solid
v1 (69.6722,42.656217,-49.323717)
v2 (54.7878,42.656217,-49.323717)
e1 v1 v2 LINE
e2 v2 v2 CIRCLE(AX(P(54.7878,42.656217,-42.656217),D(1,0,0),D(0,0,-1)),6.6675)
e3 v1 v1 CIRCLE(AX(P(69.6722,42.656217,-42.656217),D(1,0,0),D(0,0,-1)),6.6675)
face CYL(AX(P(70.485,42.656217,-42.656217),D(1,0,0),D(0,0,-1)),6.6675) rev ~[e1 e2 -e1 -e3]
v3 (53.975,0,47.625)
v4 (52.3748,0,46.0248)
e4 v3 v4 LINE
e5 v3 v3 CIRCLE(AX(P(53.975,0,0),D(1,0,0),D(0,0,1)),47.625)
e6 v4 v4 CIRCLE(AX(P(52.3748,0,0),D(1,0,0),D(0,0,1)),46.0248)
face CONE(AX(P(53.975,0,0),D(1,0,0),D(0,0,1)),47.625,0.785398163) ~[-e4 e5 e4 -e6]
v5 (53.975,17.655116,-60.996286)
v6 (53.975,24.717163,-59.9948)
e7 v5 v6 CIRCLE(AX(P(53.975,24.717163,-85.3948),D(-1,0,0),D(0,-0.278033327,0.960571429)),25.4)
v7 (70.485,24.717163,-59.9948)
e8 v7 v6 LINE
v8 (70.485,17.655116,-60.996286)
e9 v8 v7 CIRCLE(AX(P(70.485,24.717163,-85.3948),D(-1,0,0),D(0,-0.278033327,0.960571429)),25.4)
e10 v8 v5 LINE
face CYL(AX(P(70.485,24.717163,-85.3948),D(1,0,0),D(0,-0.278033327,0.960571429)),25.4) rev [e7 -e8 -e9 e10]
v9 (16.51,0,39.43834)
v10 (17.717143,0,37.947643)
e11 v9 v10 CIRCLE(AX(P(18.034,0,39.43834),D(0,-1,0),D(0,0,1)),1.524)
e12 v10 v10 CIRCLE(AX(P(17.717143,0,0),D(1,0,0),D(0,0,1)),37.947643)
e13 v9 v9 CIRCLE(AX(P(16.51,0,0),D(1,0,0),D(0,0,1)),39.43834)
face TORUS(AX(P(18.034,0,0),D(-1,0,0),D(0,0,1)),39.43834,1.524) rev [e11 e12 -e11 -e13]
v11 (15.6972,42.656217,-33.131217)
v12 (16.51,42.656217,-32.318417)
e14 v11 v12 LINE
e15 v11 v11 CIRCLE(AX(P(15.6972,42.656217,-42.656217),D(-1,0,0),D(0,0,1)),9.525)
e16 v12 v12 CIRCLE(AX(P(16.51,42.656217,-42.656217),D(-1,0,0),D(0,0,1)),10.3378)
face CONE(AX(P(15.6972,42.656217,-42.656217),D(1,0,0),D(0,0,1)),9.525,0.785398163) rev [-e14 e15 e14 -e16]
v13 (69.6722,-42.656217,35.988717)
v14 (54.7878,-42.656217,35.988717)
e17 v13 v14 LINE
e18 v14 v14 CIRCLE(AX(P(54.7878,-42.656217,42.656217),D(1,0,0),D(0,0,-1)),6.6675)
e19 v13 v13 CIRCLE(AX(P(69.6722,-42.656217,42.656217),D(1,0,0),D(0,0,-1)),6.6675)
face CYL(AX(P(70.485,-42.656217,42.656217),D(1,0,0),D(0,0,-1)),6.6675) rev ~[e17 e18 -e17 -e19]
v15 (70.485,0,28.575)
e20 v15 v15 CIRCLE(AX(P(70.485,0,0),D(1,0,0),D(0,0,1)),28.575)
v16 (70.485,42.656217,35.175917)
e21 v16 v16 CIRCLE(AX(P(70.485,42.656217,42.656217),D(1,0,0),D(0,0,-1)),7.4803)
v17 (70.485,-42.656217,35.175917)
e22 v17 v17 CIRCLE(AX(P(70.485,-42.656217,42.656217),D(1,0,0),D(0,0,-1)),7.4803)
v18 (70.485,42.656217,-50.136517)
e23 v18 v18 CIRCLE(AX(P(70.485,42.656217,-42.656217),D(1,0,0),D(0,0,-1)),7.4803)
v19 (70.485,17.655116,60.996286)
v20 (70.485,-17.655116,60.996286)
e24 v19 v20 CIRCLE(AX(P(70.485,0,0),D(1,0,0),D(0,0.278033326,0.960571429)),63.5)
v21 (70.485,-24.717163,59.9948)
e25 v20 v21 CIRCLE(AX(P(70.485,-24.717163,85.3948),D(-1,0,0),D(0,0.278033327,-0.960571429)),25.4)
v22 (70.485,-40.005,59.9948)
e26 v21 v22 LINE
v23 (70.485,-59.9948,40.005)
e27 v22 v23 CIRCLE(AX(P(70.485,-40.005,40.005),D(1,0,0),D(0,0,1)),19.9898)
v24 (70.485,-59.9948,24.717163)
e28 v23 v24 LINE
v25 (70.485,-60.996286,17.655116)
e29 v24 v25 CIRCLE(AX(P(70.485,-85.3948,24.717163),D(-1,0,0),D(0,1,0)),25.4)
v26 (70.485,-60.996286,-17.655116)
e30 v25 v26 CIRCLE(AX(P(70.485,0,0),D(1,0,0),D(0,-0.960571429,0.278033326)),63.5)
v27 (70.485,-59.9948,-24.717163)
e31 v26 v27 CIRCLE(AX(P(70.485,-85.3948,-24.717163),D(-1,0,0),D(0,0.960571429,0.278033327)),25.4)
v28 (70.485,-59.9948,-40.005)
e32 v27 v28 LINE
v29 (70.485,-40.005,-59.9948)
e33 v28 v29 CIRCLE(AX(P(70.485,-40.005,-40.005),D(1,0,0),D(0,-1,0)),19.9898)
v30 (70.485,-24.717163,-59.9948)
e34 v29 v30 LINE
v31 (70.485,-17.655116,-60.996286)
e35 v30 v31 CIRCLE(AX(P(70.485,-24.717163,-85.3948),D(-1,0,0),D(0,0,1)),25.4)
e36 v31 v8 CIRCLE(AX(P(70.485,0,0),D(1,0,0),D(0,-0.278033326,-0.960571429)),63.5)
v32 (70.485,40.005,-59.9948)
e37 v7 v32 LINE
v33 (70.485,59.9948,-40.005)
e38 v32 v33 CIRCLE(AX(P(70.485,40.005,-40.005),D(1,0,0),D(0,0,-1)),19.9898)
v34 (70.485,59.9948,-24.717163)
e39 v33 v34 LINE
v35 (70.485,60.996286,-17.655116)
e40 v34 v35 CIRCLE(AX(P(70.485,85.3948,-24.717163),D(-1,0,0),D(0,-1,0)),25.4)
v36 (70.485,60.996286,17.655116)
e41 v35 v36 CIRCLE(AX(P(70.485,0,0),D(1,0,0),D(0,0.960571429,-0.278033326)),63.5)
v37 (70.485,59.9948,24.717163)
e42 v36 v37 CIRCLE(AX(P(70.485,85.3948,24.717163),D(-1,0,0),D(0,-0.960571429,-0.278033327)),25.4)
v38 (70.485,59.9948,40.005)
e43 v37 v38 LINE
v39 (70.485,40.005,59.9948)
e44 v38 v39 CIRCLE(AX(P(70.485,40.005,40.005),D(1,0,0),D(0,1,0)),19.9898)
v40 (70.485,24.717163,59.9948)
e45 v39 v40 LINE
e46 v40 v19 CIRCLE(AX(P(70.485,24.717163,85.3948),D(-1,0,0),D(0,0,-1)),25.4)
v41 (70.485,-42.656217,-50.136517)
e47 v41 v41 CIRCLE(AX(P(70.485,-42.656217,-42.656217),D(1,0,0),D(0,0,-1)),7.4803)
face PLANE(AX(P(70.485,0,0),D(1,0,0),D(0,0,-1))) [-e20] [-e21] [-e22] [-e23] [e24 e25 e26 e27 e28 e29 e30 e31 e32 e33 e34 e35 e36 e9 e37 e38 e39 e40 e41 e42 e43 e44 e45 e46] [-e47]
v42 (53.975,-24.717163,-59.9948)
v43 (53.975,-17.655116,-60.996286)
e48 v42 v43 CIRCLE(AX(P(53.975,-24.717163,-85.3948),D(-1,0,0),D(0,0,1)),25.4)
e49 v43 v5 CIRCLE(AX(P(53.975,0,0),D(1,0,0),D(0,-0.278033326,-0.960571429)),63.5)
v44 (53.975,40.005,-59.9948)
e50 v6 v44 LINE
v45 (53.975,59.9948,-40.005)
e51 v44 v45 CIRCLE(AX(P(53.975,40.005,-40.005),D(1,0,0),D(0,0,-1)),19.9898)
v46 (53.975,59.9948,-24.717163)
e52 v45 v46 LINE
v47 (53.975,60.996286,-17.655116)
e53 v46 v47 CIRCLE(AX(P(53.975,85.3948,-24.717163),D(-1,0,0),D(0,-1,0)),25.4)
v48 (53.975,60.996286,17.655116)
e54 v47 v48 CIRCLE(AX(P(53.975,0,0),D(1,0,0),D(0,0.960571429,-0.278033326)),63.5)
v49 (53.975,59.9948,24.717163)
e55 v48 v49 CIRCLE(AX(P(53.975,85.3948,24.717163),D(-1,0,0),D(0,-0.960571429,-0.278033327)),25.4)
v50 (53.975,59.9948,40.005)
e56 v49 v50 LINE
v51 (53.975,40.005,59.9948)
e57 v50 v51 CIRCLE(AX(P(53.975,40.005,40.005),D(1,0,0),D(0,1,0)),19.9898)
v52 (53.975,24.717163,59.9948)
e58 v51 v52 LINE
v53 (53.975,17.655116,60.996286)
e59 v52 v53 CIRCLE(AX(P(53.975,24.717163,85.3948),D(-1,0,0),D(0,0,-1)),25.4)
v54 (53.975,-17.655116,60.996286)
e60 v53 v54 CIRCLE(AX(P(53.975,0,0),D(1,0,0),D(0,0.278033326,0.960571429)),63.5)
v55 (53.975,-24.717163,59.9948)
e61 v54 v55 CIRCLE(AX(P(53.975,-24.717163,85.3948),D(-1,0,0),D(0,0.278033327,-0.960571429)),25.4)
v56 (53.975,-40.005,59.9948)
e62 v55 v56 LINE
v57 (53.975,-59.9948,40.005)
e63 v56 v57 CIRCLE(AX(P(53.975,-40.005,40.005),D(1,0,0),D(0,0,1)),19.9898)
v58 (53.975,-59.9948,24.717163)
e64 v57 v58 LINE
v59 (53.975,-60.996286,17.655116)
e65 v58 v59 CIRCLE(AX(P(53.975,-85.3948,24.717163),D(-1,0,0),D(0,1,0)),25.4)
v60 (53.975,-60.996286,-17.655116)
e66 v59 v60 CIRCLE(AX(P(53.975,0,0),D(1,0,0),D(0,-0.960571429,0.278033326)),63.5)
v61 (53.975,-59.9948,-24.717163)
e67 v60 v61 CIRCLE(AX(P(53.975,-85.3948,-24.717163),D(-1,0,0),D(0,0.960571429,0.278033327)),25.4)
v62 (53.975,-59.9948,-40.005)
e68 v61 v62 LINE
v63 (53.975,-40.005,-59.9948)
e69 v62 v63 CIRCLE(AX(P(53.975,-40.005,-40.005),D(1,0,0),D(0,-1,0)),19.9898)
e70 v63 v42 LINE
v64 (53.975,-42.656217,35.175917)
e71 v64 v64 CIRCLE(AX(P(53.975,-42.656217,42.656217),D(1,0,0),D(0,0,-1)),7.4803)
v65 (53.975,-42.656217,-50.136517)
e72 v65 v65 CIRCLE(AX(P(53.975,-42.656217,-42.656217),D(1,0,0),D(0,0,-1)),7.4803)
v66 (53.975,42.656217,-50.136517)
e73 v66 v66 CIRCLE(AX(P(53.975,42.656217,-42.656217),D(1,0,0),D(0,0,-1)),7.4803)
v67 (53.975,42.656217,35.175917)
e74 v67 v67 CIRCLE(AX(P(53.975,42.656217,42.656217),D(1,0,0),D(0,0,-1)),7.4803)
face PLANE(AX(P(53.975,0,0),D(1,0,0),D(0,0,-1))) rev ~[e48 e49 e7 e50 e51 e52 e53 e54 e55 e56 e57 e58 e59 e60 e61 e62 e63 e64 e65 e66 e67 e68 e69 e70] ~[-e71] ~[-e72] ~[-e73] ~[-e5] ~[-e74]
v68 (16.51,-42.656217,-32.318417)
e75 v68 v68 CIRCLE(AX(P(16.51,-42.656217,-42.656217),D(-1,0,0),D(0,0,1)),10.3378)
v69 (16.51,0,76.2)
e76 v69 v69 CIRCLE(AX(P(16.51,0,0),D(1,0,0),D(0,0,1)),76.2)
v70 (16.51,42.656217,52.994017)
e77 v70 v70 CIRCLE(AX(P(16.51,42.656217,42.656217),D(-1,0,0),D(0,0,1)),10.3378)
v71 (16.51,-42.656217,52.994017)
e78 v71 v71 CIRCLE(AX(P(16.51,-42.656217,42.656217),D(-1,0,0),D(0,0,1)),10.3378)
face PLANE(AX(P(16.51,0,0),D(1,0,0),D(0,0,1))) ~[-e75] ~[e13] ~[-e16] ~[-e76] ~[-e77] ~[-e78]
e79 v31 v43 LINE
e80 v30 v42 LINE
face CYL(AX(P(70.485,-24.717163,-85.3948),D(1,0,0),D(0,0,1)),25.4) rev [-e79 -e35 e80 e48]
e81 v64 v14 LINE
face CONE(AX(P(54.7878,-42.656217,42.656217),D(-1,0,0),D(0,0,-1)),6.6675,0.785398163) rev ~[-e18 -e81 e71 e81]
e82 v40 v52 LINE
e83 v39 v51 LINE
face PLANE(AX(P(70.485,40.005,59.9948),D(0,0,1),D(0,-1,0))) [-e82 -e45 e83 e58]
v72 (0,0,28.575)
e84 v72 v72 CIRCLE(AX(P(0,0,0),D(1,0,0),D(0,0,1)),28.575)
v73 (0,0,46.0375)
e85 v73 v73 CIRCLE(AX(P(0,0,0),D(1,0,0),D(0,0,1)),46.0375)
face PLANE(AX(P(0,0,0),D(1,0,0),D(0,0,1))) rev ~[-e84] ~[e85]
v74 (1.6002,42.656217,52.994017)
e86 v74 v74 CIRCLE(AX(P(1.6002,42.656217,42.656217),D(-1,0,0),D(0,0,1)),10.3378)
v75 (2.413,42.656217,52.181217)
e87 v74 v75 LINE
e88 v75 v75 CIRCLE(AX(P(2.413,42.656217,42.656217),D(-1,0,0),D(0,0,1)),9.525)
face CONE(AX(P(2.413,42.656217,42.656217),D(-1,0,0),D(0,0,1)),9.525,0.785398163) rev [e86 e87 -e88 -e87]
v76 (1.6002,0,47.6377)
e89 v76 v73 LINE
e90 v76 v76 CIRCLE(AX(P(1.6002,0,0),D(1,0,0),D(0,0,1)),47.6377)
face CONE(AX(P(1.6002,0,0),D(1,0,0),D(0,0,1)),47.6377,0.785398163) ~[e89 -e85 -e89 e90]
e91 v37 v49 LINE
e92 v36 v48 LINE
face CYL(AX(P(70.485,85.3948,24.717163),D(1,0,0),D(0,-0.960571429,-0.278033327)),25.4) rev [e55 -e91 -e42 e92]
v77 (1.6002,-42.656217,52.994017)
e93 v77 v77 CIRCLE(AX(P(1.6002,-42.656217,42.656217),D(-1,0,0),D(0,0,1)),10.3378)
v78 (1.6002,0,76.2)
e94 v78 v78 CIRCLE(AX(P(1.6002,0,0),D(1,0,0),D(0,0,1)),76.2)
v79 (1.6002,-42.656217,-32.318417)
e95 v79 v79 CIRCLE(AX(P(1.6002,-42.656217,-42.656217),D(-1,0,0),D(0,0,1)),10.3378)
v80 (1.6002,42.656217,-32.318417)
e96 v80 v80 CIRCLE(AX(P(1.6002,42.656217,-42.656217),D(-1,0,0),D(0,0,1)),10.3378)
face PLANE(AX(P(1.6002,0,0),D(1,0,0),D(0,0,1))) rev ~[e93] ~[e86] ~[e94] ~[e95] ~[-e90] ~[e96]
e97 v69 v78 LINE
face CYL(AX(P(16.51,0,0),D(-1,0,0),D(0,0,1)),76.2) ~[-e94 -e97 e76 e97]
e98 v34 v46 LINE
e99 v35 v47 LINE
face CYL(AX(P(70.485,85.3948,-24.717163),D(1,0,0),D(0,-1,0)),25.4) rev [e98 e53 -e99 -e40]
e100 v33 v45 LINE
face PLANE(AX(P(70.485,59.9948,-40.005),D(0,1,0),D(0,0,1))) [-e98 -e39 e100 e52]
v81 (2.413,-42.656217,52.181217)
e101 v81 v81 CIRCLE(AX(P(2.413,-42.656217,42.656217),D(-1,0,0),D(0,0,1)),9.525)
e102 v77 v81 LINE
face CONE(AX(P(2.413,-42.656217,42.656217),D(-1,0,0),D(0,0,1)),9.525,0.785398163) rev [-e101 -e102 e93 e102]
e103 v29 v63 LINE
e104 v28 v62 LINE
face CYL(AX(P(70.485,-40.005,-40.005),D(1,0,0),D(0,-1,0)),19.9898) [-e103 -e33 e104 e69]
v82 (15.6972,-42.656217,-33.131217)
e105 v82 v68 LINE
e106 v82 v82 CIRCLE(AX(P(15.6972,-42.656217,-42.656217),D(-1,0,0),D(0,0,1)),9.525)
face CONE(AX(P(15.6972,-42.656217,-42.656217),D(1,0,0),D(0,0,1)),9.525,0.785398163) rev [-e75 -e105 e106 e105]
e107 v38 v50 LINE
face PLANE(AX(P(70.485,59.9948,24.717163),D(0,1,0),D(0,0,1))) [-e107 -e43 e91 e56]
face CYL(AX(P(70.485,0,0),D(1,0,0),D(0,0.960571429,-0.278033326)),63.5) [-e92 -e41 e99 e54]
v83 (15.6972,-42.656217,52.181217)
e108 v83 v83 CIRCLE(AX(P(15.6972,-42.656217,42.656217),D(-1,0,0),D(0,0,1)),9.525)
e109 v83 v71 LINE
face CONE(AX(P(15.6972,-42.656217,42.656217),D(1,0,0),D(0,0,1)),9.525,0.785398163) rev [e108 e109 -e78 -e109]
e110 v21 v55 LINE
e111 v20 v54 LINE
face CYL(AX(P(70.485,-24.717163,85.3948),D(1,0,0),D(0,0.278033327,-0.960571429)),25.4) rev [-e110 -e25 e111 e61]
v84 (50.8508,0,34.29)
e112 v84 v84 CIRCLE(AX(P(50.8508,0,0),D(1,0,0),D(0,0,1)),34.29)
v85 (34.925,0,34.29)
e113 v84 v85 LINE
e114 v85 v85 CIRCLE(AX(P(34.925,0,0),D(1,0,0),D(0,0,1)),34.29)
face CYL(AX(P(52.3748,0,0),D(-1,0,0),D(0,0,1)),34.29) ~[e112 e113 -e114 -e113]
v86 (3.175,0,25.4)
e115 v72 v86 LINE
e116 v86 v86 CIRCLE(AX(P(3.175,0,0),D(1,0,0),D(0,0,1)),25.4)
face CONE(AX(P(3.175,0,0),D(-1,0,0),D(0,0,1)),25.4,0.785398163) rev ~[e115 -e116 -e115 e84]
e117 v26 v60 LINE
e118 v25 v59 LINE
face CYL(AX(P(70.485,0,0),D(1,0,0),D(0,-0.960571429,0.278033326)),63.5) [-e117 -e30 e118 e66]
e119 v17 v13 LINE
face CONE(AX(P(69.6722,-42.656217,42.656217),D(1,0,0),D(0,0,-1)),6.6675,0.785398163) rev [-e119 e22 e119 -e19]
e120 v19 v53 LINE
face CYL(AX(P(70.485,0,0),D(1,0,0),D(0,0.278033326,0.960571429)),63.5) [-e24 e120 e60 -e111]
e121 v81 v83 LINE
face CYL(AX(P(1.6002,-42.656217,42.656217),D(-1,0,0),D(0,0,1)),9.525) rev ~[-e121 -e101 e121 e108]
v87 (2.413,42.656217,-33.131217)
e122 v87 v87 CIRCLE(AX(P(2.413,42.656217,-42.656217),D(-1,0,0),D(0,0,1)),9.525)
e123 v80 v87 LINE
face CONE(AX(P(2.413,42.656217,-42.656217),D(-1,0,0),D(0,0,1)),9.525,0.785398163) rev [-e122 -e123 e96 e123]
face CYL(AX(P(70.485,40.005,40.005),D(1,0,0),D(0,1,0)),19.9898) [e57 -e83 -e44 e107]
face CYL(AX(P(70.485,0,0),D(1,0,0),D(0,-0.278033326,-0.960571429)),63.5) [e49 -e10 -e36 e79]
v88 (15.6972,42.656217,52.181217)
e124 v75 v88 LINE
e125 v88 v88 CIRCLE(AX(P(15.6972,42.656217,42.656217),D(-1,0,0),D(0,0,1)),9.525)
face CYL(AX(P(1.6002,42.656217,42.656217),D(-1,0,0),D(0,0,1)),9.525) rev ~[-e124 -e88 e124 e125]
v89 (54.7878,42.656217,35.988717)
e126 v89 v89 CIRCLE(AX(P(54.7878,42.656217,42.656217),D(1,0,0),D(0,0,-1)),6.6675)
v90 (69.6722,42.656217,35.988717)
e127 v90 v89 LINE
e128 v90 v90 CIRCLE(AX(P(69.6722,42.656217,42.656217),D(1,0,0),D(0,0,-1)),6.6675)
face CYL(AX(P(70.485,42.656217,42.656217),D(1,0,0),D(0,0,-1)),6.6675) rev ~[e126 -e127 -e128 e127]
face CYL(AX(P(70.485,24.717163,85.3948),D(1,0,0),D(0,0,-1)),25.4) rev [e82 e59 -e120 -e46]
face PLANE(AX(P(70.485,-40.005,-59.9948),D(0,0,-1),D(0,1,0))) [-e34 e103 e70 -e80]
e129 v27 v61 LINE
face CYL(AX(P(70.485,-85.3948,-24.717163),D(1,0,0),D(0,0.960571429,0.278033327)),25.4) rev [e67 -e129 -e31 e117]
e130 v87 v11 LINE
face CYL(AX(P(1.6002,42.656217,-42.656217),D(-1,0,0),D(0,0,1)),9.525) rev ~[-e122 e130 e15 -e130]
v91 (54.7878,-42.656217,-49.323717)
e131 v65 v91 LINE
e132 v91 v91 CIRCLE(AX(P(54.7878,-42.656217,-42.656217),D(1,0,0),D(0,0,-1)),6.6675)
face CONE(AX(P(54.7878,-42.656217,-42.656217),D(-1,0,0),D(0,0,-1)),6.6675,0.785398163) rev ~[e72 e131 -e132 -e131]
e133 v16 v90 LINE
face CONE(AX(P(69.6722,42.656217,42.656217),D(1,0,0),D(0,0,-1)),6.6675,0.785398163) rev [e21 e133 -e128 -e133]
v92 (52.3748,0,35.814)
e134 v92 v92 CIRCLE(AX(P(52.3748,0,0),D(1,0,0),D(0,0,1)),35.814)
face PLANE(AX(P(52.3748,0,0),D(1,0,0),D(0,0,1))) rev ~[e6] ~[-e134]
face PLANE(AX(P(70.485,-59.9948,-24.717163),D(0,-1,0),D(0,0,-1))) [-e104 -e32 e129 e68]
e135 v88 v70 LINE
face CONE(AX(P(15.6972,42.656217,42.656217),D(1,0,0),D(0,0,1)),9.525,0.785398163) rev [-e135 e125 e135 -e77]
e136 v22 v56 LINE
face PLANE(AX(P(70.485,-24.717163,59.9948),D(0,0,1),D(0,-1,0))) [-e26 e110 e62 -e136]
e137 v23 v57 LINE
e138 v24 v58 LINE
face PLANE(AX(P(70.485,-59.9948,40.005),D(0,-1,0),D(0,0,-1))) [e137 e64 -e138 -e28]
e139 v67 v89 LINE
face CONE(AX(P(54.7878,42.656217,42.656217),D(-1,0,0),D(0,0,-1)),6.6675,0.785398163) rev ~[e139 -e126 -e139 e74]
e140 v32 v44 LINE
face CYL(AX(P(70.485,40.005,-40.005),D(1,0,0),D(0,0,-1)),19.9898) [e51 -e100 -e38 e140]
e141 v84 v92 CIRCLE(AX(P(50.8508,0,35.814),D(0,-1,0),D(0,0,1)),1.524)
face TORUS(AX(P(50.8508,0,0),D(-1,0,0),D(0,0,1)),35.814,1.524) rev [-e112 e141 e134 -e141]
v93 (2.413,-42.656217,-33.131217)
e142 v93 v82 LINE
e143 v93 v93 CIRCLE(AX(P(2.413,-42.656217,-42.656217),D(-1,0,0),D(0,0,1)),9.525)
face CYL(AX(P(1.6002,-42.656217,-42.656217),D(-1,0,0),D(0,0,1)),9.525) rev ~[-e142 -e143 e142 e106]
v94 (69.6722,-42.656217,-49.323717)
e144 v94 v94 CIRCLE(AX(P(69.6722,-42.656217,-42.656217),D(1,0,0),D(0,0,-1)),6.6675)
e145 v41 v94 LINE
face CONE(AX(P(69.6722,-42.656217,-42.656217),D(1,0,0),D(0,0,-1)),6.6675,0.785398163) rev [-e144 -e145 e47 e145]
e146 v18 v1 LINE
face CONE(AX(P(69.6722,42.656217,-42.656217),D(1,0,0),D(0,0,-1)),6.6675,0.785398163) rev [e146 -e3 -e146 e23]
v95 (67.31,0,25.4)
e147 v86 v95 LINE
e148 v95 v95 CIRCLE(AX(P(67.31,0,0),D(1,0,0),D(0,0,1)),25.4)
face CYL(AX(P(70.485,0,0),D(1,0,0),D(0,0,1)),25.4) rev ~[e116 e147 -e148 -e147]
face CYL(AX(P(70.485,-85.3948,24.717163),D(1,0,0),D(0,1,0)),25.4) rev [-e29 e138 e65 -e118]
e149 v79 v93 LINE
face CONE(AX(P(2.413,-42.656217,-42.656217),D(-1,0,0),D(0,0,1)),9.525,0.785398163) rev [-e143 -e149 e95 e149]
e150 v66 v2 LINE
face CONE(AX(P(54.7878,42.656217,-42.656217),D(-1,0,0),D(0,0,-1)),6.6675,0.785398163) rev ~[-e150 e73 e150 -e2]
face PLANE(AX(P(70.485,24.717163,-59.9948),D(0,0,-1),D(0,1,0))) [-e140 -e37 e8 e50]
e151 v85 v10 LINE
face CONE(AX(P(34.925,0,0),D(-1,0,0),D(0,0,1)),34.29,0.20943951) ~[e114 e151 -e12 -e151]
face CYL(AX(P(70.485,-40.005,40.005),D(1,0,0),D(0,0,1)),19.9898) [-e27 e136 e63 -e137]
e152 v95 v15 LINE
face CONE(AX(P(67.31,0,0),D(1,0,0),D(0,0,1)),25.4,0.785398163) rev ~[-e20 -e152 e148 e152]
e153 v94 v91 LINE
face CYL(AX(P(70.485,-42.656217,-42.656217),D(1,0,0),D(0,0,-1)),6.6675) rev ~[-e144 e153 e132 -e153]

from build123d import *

# Parameters (mm, degrees)
BOSS_EXTRUDE1_START = 16.51
SKETCH2_R           = 6.6675
SKETCH2_R_2         = 47.625
SKETCH2_R_3         = 25.4
BOSS_EXTRUDE1_DEPTH = 16.51
CUT_EXTRUDE1_REACH  = 129.898
SKETCH3_R           = 9.525
CHAMFER1_SIZE       = 0.8128
CHAMFER2_SIZE       = 0.8128
CHAMFER3_SIZE       = 3.175
FILLET2_R           = 1.524


with BuildPart() as part:
    # Sketch1 → Revolve1 (revolve)
    with BuildSketch(Plane.XY, mode=Mode.PRIVATE) as revolve1_sk:
        Polygon((0, 25.4), (53.975, 25.4), (53.975, 47.625), (52.3748, 46.0248), (52.3748, 34.29), (34.925, 34.29), (16.51, 38.204229083), (16.51, 76.2), (1.6002, 76.2), (1.6002, 47.6377), (0, 46.0375), align=None)
    revolve(revolve1_sk.sketch.rotate(Axis((0, 0, 0), (1, 0, 0)), 90), axis=Axis((0, 0, 0), (1, 0, 0)))

    # Sketch2 → Boss-Extrude1 (add)
    # profile 1 of 2: a face of its own
    with BuildSketch(Plane(origin=(53.975, 0, 0), x_dir=(0, 0, -1), z_dir=(1, 0, 0)).offset(BOSS_EXTRUDE1_START)):
        with BuildLine():
            Line((-59.9948, 40.005), (-59.9948, 24.717162721))
            ThreePointArc((-59.9948, 24.717162721), (-60.246417717, 21.150810443), (-60.996285714, 17.655116229))
            ThreePointArc((-60.996285714, 17.655116229), (-63.5, 0), (-60.996285714, -17.655116229))
            ThreePointArc((-60.996285714, -17.655116229), (-60.246417717, -21.150810443), (-59.9948, -24.717162721))
            Line((-59.9948, -24.717162721), (-59.9948, -40.005))
            ThreePointArc((-59.9948, -40.005), (-54.139923135, -54.139923135), (-40.005, -59.9948))
            Line((-40.005, -59.9948), (-24.717162721, -59.9948))
            ThreePointArc((-24.717162721, -59.9948), (-21.150810443, -60.246417717), (-17.655116229, -60.996285714))
            ThreePointArc((-17.655116229, -60.996285714), (0, -63.5), (17.655116229, -60.996285714))
            ThreePointArc((17.655116229, -60.996285714), (21.150810443, -60.246417717), (24.717162721, -59.9948))
            Line((24.717162721, -59.9948), (40.005, -59.9948))
            ThreePointArc((40.005, -59.9948), (54.139923135, -54.139923135), (59.9948, -40.005))
            Line((59.9948, -40.005), (59.9948, -24.717162721))
            ThreePointArc((59.9948, -24.717162721), (60.246417717, -21.150810443), (60.996285714, -17.655116229))
            ThreePointArc((60.996285714, -17.655116229), (63.5, 0), (60.996285714, 17.655116229))
            ThreePointArc((60.996285714, 17.655116229), (60.246417717, 21.150810443), (59.9948, 24.717162721))
            Line((59.9948, 24.717162721), (59.9948, 40.005))
            ThreePointArc((59.9948, 40.005), (54.139923135, 54.139923135), (40.005, 59.9948))
            Line((40.005, 59.9948), (24.717162721, 59.9948))
            ThreePointArc((24.717162721, 59.9948), (21.150810443, 60.246417717), (17.655116229, 60.996285714))
            ThreePointArc((17.655116229, 60.996285714), (0, 63.5), (-17.655116229, 60.996285714))
            ThreePointArc((-17.655116229, 60.996285714), (-21.150810443, 60.246417717), (-24.717162721, 59.9948))
            Line((-24.717162721, 59.9948), (-40.005, 59.9948))
            ThreePointArc((-40.005, 59.9948), (-54.139923135, 54.139923135), (-59.9948, 40.005))
        make_face()
        with Locations((-42.656216575, -42.656216575)):
            Circle(SKETCH2_R, mode=Mode.SUBTRACT)
        with Locations((42.656216575, -42.656216575)):
            Circle(SKETCH2_R, mode=Mode.SUBTRACT)
        with Locations((42.656216575, 42.656216575)):
            Circle(SKETCH2_R, mode=Mode.SUBTRACT)
        with Locations((-42.656216575, 42.656216575)):
            Circle(SKETCH2_R, mode=Mode.SUBTRACT)
        Circle(SKETCH2_R_2, mode=Mode.SUBTRACT)
    # profile 2 of 2: a face of its own
    with BuildSketch(Plane(origin=(53.975, 0, 0), x_dir=(0, 0, -1), z_dir=(1, 0, 0)).offset(BOSS_EXTRUDE1_START)):
        Circle(SKETCH2_R_2)
        with Locations(Location((0, 0, 0), (0, 0, 180))):
            Circle(SKETCH2_R_3, mode=Mode.SUBTRACT)
    extrude(amount=-BOSS_EXTRUDE1_DEPTH)

    # Sketch3 → Cut-Extrude1 (cut, up to next)
    with BuildSketch(Plane.ZY.offset(-1.6002), mode=Mode.PRIVATE) as cut_extrude1_sk1:
        with Locations((-42.656216575, 42.656216575)):
            Circle(SKETCH3_R)
    cut_extrude1_tool1 = extrude(cut_extrude1_sk1.sketch, amount=-CUT_EXTRUDE1_REACH, mode=Mode.PRIVATE) & part.part
    # Sketch3 → Cut-Extrude1 (cut, up to next)
    with BuildSketch(Plane.ZY.offset(-1.6002), mode=Mode.PRIVATE) as cut_extrude1_sk2:
        with Locations((42.656216575, 42.656216575)):
            Circle(SKETCH3_R)
    cut_extrude1_tool2 = extrude(cut_extrude1_sk2.sketch, amount=-CUT_EXTRUDE1_REACH, mode=Mode.PRIVATE) & part.part
    # Sketch3 → Cut-Extrude1 (cut, up to next)
    with BuildSketch(Plane.ZY.offset(-1.6002), mode=Mode.PRIVATE) as cut_extrude1_sk3:
        with Locations((42.656216575, -42.656216575)):
            Circle(SKETCH3_R)
    cut_extrude1_tool3 = extrude(cut_extrude1_sk3.sketch, amount=-CUT_EXTRUDE1_REACH, mode=Mode.PRIVATE) & part.part
    # Sketch3 → Cut-Extrude1 (cut, up to next)
    with BuildSketch(Plane.ZY.offset(-1.6002), mode=Mode.PRIVATE) as cut_extrude1_sk4:
        with Locations((-42.656216575, -42.656216575)):
            Circle(SKETCH3_R)
    cut_extrude1_tool4 = extrude(cut_extrude1_sk4.sketch, amount=-CUT_EXTRUDE1_REACH, mode=Mode.PRIVATE) & part.part
    add(cut_extrude1_tool1.solids().sort_by_distance((1.6002, 42.656217, -42.656217))[0], mode=Mode.SUBTRACT)
    add(cut_extrude1_tool2.solids().sort_by_distance((1.6002, 42.656217, 42.656217))[0], mode=Mode.SUBTRACT)
    add(cut_extrude1_tool3.solids().sort_by_distance((1.6002, -42.656217, 42.656217))[0], mode=Mode.SUBTRACT)
    add(cut_extrude1_tool4.solids().sort_by_distance((1.6002, -42.656217, -42.656217))[0], mode=Mode.SUBTRACT)

    # Chamfer1
    chamfer1_edges = [part.edges().sort_by_distance(p)[0] for p in [
        (70.485, 42.656216575, 49.323716575),
        (70.485, 42.656216575, -35.988716575),
        (70.485, -42.656216575, -35.988716575),
        (70.485, -42.656216575, 49.323716575),
        (53.975, -42.656216575, 49.323716575),
        (53.975, -42.656216575, -35.988716575),
        (53.975, 42.656216575, -35.988716575),
        (53.975, 42.656216575, 49.323716575),
    ]]
    chamfer(chamfer1_edges, length=CHAMFER1_SIZE)

    # Chamfer2
    chamfer2_edges = [part.edges().sort_by_distance(p)[0] for p in [
        (1.6002, -42.656216575, 33.131216575),
        (16.51, -42.656216575, 33.131216575),
        (1.6002, 42.656216575, 33.131216575),
        (16.51, 42.656216575, 33.131216575),
        (1.6002, 42.656216575, -52.181216575),
        (16.51, 42.656216575, -52.181216575),
        (1.6002, -42.656216575, -52.181216575),
        (16.51, -42.656216575, -52.181216575),
    ]]
    chamfer(chamfer2_edges, length=CHAMFER2_SIZE)

    # Chamfer3
    chamfer3_edges = [part.edges().sort_by_distance(p)[0] for p in [
        (0, 0, -25.4),
        (70.485, 0, -25.4),
    ]]
    chamfer(chamfer3_edges, length=CHAMFER3_SIZE)

    # Fillet2
    fillet2_edges = [part.edges().sort_by_distance(p)[0] for p in [
        (16.51, 0, -38.204229083),
        (52.3748, 0, -34.29),
    ]]
    fillet(fillet2_edges, radius=FILLET2_R)


solid = part.part
